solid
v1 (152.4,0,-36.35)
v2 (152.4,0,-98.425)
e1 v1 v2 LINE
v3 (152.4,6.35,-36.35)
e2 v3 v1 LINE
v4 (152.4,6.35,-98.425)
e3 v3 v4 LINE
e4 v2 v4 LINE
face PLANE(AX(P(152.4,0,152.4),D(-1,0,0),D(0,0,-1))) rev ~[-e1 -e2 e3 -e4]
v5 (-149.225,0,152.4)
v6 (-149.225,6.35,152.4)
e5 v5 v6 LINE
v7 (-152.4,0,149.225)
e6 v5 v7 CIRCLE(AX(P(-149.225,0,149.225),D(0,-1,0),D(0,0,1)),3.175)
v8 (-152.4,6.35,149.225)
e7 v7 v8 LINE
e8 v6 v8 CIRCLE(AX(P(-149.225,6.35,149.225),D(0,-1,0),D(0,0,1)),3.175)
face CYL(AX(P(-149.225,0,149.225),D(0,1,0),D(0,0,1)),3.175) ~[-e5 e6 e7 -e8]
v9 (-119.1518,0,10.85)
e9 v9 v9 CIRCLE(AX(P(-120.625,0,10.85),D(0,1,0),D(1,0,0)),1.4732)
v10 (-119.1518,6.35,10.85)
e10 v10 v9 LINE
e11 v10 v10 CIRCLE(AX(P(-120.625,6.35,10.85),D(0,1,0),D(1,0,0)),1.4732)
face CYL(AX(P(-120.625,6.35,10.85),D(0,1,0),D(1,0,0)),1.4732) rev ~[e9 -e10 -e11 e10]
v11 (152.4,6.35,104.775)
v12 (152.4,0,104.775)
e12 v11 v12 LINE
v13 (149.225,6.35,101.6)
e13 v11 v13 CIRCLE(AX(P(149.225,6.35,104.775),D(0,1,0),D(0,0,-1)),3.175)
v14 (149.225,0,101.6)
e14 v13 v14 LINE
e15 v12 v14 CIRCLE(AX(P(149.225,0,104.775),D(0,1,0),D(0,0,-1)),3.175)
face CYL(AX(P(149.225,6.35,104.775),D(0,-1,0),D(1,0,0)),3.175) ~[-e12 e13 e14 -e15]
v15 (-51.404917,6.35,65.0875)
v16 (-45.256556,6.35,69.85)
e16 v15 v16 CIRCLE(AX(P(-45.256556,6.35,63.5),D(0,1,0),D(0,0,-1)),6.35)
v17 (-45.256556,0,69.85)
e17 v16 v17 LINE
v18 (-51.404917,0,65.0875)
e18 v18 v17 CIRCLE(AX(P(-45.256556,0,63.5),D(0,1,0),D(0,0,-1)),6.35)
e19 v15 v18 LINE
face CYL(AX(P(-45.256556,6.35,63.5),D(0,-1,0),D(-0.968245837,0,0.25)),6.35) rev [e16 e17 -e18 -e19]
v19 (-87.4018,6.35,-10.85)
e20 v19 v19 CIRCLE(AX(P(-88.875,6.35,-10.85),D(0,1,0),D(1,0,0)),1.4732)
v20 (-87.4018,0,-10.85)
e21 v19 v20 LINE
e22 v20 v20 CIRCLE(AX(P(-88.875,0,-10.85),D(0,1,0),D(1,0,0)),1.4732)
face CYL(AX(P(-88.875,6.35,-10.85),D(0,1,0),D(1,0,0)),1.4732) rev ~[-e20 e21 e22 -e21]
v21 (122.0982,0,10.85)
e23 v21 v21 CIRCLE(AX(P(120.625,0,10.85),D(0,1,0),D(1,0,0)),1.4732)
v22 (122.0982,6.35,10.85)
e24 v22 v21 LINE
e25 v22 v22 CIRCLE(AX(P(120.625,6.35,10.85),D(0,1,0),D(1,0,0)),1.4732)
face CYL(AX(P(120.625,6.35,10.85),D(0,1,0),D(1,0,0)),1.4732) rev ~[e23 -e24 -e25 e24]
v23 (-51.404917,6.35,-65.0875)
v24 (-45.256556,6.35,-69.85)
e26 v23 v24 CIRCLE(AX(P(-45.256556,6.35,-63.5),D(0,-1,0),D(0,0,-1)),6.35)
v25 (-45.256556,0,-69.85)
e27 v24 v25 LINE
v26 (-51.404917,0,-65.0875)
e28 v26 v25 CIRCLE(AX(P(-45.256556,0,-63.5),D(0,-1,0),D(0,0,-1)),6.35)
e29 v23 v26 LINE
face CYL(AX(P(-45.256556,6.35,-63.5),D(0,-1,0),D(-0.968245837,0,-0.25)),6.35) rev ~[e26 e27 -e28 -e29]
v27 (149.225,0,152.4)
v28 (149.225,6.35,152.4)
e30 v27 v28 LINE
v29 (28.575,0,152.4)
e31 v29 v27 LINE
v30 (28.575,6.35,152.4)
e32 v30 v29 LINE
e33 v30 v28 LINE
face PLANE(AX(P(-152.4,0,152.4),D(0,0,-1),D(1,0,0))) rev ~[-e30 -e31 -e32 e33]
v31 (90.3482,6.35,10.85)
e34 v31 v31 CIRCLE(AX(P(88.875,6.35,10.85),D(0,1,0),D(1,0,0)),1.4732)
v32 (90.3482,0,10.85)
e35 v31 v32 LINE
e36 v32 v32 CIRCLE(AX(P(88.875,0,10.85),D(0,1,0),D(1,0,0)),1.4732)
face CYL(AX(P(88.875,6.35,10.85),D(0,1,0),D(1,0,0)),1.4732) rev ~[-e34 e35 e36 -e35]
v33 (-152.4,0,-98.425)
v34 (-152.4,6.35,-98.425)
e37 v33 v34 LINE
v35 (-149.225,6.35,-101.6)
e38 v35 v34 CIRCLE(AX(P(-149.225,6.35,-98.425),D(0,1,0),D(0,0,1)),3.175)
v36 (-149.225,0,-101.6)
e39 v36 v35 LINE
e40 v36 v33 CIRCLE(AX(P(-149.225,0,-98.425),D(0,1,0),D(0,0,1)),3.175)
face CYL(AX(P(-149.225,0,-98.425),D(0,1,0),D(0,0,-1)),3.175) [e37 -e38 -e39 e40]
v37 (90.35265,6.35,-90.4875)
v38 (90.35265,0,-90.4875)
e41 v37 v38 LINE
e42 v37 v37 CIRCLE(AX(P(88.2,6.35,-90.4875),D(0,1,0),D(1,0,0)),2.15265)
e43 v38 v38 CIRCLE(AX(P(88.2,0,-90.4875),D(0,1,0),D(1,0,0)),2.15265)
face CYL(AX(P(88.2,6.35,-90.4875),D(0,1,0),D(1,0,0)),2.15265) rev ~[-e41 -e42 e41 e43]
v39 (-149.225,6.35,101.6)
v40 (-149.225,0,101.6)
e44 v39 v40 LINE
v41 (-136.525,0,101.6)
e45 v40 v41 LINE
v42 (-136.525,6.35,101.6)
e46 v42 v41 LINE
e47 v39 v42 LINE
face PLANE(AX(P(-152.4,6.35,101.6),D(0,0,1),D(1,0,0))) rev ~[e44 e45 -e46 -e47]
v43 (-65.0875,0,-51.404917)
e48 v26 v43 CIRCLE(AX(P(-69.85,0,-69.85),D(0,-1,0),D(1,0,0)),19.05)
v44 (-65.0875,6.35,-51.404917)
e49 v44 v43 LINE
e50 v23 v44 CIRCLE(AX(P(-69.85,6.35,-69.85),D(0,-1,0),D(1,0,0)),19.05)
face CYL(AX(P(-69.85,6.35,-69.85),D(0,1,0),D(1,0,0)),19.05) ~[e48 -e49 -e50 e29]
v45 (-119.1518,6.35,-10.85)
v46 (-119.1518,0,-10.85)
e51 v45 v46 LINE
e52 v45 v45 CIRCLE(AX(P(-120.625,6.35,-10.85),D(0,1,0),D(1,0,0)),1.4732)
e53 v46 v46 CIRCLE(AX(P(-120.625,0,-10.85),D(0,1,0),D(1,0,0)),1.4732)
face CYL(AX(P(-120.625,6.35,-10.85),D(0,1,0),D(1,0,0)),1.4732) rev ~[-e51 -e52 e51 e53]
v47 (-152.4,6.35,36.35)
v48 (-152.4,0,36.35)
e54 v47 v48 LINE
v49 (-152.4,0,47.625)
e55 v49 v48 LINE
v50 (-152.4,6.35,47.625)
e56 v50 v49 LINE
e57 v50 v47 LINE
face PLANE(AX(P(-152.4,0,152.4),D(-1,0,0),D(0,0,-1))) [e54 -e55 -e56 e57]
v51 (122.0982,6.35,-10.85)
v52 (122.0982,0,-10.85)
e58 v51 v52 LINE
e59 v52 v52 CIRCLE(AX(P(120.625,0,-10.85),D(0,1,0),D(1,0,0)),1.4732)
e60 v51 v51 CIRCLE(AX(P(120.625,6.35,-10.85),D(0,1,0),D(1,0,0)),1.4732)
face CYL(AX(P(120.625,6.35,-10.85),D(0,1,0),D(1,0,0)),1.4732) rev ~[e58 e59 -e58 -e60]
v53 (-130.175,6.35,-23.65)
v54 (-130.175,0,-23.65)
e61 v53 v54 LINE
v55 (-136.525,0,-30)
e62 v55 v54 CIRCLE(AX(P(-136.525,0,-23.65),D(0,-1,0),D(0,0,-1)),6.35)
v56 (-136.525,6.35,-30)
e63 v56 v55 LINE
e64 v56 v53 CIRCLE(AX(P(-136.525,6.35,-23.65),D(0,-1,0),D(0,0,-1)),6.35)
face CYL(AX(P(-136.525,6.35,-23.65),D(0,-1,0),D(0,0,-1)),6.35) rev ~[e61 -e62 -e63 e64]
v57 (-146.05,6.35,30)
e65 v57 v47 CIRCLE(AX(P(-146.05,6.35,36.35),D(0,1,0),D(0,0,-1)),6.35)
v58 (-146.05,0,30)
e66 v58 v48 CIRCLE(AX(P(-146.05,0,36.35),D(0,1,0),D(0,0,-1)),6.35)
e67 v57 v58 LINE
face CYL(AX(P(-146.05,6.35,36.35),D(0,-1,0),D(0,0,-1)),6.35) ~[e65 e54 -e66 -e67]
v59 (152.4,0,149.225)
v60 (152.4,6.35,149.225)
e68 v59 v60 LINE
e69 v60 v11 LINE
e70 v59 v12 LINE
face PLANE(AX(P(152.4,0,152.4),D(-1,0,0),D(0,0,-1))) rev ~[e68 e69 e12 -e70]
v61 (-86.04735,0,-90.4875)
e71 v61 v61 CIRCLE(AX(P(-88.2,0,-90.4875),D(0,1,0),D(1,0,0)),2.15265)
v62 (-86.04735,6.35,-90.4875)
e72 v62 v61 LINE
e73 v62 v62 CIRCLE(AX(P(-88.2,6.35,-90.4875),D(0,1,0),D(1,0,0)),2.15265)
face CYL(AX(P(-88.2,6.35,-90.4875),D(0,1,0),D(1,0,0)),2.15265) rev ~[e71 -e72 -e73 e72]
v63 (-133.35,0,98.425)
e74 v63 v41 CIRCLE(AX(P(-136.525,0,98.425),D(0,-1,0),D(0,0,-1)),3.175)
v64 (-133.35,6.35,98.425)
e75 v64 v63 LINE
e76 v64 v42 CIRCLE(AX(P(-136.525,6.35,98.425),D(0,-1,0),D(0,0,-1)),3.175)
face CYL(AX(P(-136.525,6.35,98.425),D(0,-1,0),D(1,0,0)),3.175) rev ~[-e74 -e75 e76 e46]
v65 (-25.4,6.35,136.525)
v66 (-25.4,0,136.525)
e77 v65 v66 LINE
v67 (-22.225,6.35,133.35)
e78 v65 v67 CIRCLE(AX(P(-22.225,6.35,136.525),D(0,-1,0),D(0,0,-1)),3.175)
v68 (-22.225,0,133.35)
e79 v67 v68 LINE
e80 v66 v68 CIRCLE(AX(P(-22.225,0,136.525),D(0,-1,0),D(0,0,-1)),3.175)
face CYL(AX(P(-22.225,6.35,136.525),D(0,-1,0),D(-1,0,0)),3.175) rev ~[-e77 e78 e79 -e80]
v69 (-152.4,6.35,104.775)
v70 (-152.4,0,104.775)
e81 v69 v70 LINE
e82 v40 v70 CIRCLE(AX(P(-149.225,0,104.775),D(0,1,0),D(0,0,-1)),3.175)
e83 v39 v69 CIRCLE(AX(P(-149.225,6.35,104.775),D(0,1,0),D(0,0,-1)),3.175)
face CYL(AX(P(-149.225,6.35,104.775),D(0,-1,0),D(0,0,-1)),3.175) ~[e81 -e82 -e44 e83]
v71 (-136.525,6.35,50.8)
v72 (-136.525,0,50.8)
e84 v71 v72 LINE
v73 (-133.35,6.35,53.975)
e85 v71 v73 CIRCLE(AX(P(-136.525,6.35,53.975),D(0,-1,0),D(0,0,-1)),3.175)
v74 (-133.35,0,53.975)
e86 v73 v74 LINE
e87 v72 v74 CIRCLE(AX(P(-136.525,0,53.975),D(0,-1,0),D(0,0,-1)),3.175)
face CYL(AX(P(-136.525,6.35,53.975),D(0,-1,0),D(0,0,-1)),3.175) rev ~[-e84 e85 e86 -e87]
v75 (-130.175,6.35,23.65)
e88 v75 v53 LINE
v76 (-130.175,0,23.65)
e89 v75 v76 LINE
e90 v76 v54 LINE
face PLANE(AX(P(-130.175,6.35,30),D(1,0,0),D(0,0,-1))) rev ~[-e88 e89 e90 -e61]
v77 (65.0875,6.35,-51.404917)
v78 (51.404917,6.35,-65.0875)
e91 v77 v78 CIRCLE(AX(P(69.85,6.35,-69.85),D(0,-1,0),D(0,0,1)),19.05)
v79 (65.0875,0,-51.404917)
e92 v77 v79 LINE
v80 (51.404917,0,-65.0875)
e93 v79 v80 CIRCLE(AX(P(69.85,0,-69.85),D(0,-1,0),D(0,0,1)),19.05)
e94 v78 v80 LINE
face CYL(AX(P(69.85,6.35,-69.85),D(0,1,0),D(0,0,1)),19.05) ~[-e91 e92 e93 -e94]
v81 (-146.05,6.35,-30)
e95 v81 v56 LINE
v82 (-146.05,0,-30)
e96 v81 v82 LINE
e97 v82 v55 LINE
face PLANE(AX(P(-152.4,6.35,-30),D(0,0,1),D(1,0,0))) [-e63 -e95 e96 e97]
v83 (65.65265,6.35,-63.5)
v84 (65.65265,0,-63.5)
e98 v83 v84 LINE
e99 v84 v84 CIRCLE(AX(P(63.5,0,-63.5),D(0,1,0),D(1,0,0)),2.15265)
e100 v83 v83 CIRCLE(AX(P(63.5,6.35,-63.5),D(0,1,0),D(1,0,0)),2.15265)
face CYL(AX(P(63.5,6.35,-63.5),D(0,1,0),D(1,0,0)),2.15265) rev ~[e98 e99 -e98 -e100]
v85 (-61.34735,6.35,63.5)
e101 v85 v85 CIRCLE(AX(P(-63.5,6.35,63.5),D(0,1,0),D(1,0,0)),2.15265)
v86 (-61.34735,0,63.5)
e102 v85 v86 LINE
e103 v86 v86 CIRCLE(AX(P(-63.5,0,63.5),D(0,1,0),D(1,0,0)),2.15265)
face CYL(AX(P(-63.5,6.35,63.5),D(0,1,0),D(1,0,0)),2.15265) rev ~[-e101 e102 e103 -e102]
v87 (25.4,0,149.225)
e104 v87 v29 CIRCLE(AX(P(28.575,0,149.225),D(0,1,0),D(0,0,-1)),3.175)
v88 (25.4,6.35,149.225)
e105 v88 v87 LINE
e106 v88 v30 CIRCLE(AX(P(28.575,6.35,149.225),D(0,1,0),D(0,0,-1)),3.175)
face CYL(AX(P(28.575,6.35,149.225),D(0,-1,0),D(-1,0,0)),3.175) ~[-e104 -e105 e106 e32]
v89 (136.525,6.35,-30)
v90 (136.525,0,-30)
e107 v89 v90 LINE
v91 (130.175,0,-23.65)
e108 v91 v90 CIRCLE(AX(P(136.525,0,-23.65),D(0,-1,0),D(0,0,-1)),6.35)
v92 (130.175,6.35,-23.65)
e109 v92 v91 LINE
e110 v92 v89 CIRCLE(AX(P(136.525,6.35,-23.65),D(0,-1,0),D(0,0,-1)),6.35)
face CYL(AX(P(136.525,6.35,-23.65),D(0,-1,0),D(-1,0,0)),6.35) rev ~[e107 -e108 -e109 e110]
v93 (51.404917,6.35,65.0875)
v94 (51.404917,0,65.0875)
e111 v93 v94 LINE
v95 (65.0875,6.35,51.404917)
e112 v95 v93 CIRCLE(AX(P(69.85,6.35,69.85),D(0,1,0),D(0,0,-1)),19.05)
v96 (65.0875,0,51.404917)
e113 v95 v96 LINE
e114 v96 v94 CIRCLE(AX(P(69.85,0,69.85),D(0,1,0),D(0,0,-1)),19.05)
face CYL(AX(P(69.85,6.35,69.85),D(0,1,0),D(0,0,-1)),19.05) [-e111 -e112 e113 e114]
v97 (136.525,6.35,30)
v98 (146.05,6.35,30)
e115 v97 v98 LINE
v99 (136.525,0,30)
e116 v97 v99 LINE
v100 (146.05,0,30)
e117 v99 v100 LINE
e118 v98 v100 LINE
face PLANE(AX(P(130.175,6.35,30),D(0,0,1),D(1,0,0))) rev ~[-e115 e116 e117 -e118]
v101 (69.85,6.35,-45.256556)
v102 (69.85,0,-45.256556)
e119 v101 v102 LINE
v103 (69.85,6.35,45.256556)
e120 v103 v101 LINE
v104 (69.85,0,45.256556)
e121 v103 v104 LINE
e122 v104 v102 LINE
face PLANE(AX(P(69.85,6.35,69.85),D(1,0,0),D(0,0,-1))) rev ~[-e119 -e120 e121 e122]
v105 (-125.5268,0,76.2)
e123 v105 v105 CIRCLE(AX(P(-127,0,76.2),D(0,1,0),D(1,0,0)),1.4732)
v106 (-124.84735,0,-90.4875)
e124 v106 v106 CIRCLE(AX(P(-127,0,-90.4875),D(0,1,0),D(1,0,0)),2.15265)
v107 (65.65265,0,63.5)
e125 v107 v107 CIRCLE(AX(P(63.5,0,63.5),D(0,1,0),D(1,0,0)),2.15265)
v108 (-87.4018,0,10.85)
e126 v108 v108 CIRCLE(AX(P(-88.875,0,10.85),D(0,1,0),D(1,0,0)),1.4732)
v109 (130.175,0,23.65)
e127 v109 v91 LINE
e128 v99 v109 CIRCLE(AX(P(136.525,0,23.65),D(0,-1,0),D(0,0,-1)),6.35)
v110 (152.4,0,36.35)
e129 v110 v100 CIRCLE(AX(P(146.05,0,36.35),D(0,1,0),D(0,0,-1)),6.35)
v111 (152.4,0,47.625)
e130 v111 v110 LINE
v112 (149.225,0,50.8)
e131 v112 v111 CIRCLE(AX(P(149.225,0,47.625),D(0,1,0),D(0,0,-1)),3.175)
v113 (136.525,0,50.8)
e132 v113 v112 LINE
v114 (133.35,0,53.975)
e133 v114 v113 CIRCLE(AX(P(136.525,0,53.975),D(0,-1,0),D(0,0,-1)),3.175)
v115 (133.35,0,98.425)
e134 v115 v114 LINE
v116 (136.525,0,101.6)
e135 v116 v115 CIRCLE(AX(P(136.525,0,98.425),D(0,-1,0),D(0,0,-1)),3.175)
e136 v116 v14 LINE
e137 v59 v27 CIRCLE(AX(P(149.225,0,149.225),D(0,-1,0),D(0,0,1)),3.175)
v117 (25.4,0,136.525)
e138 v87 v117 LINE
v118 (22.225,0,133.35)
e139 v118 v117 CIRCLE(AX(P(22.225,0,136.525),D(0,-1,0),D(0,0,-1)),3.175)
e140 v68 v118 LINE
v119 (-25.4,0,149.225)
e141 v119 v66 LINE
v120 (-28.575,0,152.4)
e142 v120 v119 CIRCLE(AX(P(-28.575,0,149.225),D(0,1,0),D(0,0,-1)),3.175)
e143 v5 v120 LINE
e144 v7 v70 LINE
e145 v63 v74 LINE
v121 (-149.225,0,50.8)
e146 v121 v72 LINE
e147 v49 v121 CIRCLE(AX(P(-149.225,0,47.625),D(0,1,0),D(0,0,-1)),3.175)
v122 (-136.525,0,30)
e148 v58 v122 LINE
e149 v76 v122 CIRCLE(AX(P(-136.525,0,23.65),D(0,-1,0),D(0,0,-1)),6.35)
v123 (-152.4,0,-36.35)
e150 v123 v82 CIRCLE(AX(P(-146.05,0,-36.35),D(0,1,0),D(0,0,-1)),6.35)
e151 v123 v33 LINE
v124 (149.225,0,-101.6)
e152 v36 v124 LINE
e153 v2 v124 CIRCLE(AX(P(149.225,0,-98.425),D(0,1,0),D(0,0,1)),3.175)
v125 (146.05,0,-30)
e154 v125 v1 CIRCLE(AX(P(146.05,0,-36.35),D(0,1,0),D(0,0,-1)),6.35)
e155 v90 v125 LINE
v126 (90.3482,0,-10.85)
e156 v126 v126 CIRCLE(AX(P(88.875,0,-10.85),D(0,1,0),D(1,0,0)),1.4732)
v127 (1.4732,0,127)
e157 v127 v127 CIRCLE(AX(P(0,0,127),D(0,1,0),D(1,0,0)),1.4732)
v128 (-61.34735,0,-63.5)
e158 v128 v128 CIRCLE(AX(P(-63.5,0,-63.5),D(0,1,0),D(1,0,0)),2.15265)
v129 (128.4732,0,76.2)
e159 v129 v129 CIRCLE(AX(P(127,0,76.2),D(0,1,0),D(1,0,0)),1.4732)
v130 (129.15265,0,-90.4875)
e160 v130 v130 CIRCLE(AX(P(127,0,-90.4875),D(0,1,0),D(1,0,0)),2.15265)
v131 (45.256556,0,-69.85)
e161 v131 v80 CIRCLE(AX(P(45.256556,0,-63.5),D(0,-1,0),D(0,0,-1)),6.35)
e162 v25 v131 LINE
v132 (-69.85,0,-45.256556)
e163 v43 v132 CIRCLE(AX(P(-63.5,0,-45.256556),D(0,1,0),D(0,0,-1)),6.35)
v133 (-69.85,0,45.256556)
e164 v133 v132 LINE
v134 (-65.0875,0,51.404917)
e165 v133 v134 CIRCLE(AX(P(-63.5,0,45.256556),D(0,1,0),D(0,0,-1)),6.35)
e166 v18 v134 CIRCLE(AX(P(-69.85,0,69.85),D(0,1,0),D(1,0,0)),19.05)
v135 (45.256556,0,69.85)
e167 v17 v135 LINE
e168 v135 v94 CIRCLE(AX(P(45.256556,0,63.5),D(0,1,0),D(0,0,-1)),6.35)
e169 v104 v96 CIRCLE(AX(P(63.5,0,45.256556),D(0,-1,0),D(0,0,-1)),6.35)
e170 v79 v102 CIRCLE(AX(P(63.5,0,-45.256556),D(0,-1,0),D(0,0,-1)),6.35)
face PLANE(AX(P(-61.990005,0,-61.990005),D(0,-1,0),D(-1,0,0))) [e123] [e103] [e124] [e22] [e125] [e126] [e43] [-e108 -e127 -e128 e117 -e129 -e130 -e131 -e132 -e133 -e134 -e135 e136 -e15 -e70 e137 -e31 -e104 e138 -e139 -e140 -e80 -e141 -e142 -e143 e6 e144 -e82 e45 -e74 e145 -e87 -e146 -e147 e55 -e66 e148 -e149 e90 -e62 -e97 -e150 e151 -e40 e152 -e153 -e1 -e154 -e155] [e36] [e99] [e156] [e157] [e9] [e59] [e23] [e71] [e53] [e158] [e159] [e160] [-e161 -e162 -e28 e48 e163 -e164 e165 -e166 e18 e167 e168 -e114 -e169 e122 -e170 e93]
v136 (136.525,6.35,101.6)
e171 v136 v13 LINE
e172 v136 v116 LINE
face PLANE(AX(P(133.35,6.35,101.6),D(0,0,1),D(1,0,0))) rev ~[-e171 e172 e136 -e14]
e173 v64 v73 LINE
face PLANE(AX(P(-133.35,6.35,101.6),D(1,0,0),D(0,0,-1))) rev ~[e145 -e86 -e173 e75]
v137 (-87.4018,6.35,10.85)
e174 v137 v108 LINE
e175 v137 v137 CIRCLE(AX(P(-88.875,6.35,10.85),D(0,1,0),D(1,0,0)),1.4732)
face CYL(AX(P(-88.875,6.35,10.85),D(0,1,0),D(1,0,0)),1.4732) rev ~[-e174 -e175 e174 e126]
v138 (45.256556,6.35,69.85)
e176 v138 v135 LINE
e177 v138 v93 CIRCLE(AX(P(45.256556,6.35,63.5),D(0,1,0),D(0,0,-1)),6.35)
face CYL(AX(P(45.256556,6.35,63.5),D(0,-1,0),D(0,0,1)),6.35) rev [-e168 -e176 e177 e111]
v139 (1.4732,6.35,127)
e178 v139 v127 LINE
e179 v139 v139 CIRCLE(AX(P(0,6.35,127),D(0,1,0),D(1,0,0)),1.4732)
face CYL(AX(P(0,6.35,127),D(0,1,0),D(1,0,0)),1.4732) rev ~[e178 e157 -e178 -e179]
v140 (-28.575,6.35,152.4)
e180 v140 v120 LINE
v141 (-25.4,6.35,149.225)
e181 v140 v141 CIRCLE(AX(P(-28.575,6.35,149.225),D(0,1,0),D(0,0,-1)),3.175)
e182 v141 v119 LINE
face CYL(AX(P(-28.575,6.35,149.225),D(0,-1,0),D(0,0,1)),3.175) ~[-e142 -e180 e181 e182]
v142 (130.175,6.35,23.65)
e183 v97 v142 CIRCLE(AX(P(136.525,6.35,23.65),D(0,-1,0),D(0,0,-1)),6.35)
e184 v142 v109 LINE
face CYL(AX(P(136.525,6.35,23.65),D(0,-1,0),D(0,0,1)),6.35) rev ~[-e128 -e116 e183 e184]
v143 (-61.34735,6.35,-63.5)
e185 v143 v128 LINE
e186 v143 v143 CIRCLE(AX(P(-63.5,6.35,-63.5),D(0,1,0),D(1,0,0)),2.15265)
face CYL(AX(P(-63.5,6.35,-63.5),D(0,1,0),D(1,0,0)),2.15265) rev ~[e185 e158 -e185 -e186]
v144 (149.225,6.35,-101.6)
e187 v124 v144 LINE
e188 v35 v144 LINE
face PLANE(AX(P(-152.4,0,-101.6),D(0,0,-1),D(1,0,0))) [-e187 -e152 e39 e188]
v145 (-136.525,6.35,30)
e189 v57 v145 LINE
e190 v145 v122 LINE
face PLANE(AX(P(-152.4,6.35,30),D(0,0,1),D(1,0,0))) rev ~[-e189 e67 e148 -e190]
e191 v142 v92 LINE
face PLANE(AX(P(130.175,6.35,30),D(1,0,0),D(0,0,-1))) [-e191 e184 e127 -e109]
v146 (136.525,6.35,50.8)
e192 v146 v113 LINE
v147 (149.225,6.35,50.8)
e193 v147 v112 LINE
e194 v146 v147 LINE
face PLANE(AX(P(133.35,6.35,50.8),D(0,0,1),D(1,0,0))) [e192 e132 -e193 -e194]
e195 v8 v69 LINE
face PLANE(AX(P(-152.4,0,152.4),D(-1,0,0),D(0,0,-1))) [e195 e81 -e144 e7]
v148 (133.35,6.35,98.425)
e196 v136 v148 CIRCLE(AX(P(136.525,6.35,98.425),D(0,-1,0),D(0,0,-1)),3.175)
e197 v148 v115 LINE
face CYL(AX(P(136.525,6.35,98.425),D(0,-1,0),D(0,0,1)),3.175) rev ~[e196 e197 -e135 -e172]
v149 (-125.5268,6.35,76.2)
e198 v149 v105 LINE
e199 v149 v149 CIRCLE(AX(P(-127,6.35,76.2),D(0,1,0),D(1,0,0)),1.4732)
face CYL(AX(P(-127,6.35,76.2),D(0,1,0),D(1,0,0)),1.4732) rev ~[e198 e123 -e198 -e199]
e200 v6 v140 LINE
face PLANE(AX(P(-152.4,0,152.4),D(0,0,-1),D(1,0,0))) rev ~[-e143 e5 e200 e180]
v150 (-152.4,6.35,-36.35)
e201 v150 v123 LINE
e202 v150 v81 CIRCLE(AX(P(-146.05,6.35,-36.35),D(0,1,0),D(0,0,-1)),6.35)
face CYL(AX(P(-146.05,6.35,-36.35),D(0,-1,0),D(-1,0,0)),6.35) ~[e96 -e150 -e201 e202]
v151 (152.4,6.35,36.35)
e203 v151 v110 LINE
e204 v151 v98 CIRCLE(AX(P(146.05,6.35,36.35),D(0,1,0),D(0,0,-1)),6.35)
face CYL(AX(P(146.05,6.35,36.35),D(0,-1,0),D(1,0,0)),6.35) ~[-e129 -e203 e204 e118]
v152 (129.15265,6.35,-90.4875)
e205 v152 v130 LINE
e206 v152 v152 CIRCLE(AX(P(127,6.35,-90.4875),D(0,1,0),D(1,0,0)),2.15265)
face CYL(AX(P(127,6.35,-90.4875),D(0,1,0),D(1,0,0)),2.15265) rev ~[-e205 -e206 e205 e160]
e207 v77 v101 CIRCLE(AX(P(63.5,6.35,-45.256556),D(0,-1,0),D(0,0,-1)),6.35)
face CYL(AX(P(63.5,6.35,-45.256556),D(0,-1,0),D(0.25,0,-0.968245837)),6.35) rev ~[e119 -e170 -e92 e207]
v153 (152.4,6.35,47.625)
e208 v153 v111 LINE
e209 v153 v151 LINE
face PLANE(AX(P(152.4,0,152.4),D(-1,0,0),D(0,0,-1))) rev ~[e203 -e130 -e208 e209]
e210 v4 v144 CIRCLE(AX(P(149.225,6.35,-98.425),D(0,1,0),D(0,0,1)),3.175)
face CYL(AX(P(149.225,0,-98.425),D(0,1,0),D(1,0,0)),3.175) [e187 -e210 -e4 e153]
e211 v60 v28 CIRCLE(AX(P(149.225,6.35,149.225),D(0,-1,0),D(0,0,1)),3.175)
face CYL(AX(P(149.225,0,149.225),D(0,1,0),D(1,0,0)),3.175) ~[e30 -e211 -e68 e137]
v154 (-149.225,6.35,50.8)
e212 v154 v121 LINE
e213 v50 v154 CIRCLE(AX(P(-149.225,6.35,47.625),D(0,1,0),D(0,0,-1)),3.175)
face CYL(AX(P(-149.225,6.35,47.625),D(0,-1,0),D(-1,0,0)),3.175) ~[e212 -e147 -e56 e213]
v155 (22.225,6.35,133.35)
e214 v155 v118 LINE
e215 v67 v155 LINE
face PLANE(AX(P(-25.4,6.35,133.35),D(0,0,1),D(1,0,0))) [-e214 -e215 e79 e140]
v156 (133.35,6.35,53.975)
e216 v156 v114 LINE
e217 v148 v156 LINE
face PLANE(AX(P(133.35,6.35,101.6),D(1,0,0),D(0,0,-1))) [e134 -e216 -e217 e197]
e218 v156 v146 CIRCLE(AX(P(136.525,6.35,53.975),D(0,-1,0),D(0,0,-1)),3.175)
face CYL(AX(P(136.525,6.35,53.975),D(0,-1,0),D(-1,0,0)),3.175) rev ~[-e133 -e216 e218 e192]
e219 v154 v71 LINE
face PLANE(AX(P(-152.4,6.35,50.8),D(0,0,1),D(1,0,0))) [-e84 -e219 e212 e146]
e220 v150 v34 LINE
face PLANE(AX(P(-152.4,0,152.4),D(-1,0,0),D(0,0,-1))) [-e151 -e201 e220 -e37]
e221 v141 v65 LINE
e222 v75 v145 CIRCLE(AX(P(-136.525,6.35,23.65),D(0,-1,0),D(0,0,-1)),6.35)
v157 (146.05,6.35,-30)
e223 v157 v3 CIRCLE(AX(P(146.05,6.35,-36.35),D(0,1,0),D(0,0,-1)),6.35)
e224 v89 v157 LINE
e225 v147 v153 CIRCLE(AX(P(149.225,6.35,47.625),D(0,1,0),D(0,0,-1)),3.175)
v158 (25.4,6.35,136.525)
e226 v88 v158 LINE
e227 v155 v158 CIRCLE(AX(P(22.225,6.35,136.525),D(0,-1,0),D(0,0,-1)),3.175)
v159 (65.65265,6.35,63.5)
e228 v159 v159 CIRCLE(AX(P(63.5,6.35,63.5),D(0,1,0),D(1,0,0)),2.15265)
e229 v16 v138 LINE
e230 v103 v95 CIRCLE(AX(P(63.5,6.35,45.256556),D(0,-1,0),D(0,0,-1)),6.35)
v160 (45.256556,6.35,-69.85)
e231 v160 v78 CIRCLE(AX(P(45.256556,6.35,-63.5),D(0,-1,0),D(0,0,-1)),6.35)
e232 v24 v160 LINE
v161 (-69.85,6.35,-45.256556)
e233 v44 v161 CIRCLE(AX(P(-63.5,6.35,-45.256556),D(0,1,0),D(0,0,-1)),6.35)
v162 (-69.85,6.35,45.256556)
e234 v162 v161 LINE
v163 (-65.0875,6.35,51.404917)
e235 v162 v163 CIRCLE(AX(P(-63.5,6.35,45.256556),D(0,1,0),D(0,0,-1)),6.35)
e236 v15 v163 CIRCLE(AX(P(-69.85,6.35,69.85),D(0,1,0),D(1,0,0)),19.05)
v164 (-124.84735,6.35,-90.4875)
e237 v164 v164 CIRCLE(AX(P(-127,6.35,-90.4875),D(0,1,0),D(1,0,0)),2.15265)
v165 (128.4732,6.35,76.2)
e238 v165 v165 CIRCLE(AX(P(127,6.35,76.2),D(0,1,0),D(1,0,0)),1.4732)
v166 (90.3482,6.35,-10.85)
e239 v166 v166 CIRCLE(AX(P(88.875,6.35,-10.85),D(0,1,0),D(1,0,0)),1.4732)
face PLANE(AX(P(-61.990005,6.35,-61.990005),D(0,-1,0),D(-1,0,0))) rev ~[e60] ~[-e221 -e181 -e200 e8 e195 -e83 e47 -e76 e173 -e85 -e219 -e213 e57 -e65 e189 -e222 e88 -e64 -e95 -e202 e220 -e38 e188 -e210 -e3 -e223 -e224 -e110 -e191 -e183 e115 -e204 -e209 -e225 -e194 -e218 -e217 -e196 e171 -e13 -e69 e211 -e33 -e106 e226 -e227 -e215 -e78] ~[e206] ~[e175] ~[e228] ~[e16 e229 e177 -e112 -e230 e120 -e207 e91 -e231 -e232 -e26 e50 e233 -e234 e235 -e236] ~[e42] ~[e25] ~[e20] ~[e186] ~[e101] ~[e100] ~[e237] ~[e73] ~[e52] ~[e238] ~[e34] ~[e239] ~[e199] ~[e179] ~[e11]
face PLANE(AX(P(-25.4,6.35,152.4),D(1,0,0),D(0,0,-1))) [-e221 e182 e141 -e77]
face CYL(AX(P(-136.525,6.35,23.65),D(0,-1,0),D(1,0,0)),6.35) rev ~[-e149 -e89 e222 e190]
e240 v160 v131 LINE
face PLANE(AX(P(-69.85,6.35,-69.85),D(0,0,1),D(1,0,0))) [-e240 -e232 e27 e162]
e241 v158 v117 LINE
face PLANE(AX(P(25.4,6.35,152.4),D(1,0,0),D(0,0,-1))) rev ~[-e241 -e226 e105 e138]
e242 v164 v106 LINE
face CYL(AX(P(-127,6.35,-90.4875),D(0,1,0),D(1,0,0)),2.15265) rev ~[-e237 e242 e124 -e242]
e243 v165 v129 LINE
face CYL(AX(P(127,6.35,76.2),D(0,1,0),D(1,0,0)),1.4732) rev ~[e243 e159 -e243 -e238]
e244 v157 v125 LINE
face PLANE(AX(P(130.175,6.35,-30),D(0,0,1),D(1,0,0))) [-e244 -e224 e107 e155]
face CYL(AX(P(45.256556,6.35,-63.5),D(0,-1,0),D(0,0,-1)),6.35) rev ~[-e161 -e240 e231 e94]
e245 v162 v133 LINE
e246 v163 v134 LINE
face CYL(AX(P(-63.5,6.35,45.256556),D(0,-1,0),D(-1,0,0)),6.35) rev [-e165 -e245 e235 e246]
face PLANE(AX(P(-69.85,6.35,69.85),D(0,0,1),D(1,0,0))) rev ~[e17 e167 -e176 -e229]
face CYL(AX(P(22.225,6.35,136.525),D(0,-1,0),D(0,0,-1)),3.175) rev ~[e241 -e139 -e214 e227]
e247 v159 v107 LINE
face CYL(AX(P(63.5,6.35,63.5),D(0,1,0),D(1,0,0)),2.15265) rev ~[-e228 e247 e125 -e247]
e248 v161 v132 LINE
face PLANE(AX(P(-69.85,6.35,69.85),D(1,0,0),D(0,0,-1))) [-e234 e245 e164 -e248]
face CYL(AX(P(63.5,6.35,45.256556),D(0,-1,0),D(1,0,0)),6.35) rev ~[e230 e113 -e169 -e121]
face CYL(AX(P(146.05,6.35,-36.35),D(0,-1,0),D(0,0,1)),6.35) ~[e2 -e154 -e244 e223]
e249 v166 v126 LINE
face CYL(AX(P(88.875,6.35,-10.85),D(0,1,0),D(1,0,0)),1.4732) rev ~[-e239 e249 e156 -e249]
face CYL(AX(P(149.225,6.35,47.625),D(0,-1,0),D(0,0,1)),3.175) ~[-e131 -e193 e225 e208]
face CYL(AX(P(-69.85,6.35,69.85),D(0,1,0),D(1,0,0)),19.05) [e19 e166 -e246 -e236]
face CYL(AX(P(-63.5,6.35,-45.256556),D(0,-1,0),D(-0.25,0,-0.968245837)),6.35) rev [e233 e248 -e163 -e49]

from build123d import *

# Parameters (mm, degrees)
SKETCH2_W                = 304.8
SKETCH2_H                = 254
BASE_DEPTH               = 6.35
SKETCH5_W                = 139.7
SKETCH5_H                = 139.7
FAN_CUTOUT_DEPTH         = 6.35
BOSS_EXTRUDE1_DEPTH      = 6.35
SKETCH8_R                = 2.15265
CUT_EXTRUDE1_DEPTH       = 6.35
FILLET2_R                = 6.35
SKETCH3_W                = 22.225
SKETCH3_H                = 60
WHEEL_CUTOUTS_DEPTH      = 6.35
WHEEL_FILLETS_R          = 6.35
SKETCH4_R                = 1.4732
SKETCH4_W                = 19.05
SKETCH4_H                = 50.8
SKETCH4_W_2              = 50.8
SKETCH4_H_2              = 19.05
ULTRASONIC_CUTOUTS_DEPTH = 6.35
ULTRASONIC_FILLETS_R     = 3.175
FILLET3_R                = 3.175
SKETCH9_R                = 2.15265
CUT_EXTRUDE2_DEPTH       = 6.35
SKETCH10_R               = 1.4732
CUT_EXTRUDE3_DEPTH       = 6.35


with BuildPart() as part:
    # Sketch2 → Base (new body)
    with BuildSketch(Plane(origin=(0, 0, 0), x_dir=(1, 0, 0), z_dir=(0, 1, 0))):
        with Locations((0, -25.4)):
            Rectangle(SKETCH2_W, SKETCH2_H)
    extrude(amount=BASE_DEPTH)

    # Sketch5 → Fan Cutout (cut)
    with BuildSketch(Plane(origin=(0, 6.35, 0), x_dir=(1, 0, 0), z_dir=(0, 1, 0))):
        Rectangle(SKETCH5_W, SKETCH5_H)
    extrude(amount=-FAN_CUTOUT_DEPTH, mode=Mode.SUBTRACT)

    # Sketch7 → Boss-Extrude1 (add)
    with BuildSketch(Plane(origin=(0, 6.35, 0), x_dir=(1, 0, 0), z_dir=(0, 1, 0))):
        with BuildLine():
            Line((-69.85, 50.8), (-69.85, 69.85))
            Line((-69.85, 69.85), (-50.8, 69.85))
            ThreePointArc((-50.8, 69.85), (-56.379615818, 56.379615818), (-69.85, 50.8))
        make_face()
        with BuildLine():
            Line((50.8, 69.85), (69.85, 69.85))
            Line((69.85, 69.85), (69.85, 50.8))
            ThreePointArc((69.85, 50.8), (56.379615818, 56.379615818), (50.8, 69.85))
        make_face()
        with BuildLine():
            Line((-69.85, -50.8), (-69.85, -69.85))
            Line((-69.85, -69.85), (-50.8, -69.85))
            ThreePointArc((-50.8, -69.85), (-56.379615818, -56.379615818), (-69.85, -50.8))
        make_face()
        with BuildLine():
            Line((50.8, -69.85), (69.85, -69.85))
            Line((69.85, -69.85), (69.85, -50.8))
            ThreePointArc((69.85, -50.8), (56.379615818, -56.379615818), (50.8, -69.85))
        make_face()
    extrude(amount=-BOSS_EXTRUDE1_DEPTH)

    # Sketch8 → Cut-Extrude1 (cut)
    with BuildSketch(Plane(origin=(0, 6.35, 0), x_dir=(1, 0, 0), z_dir=(0, 1, 0))):
        with Locations((-63.5, 63.5)):
            Circle(SKETCH8_R)
        with Locations((63.5, 63.5)):
            Circle(SKETCH8_R)
        with Locations((63.5, -63.5)):
            Circle(SKETCH8_R)
        with Locations((-63.5, -63.5)):
            Circle(SKETCH8_R)
    extrude(amount=-CUT_EXTRUDE1_DEPTH, mode=Mode.SUBTRACT)

    # Fillet2
    fillet2_edges = [part.edges().sort_by_distance(p)[0] for p in [
        (-69.85, 3.175, -50.8),
        (-50.8, 3.175, -69.85),
        (50.8, 3.175, -69.85),
        (69.85, 3.175, -50.8),
        (-50.8, 3.175, 69.85),
        (-69.85, 3.175, 50.8),
        (69.85, 3.175, 50.8),
        (50.8, 3.175, 69.85),
    ]]
    fillet(fillet2_edges, radius=FILLET2_R)

    # Sketch3 → Wheel Cutouts (cut)
    with BuildSketch(Plane(origin=(0, 6.35, 0), x_dir=(1, 0, 0), z_dir=(0, 1, 0))):
        with Locations((-141.2875, 0)):
            Rectangle(SKETCH3_W, SKETCH3_H)
        with Locations((141.2875, 0)):
            Rectangle(SKETCH3_W, SKETCH3_H)
    extrude(amount=-WHEEL_CUTOUTS_DEPTH, mode=Mode.SUBTRACT)

    # Wheel Fillets
    wheel_fillets_edges = [part.edges().sort_by_distance(p)[0] for p in [
        (-130.175, 3.175, 30),
        (-130.175, 3.175, -30),
        (-152.4, 3.175, -30),
        (-152.4, 3.175, 30),
        (130.175, 3.175, -30),
        (130.175, 3.175, 30),
        (152.4, 3.175, 30),
        (152.4, 3.175, -30),
    ]]
    fillet(wheel_fillets_edges, radius=WHEEL_FILLETS_R)

    # Sketch4 → Ultrasonic Cutouts (cut)
    with BuildSketch(Plane(origin=(0, 6.35, 0), x_dir=(1, 0, 0), z_dir=(0, 1, 0))):
        with Locations((-127, -76.2)):
            Circle(SKETCH4_R)
        with Locations((127, -76.2)):
            Circle(SKETCH4_R)
        with Locations((0, -127)):
            Circle(SKETCH4_R)
        with Locations((-142.875, -76.2)):
            Rectangle(SKETCH4_W, SKETCH4_H)
        with Locations((142.875, -76.2)):
            Rectangle(SKETCH4_W, SKETCH4_H)
        with Locations((0, -142.875)):
            Rectangle(SKETCH4_W_2, SKETCH4_H_2)
    extrude(amount=-ULTRASONIC_CUTOUTS_DEPTH, mode=Mode.SUBTRACT)

    # Ultrasonic Fillets
    ultrasonic_fillets_edges = [part.edges().sort_by_distance(p)[0] for p in [
        (-133.35, 3.175, 101.6),
        (-133.35, 3.175, 50.8),
        (-152.4, 3.175, 50.8),
        (-152.4, 3.175, 101.6),
        (133.35, 3.175, 50.8),
        (133.35, 3.175, 101.6),
        (152.4, 3.175, 101.6),
        (152.4, 3.175, 50.8),
        (25.4, 3.175, 152.4),
        (25.4, 3.175, 133.35),
        (-25.4, 3.175, 133.35),
        (-25.4, 3.175, 152.4),
    ]]
    fillet(ultrasonic_fillets_edges, radius=ULTRASONIC_FILLETS_R)

    # Fillet3
    fillet3_edges = [part.edges().sort_by_distance(p)[0] for p in [
        (-152.4, 3.175, -101.6),
        (152.4, 3.175, -101.6),
        (152.4, 3.175, 152.4),
        (-152.4, 3.175, 152.4),
    ]]
    fillet(fillet3_edges, radius=FILLET3_R)

    # Sketch9 → Cut-Extrude2 (cut)
    with BuildSketch(Plane(origin=(0, 6.35, 0), x_dir=(1, 0, 0), z_dir=(0, 1, 0))):
        with Locations((-127, 90.4875)):
            Circle(SKETCH9_R)
        with Locations((-88.2, 90.4875)):
            Circle(SKETCH9_R)
        with Locations((88.2, 90.4875)):
            Circle(SKETCH9_R)
        with Locations((127, 90.4875)):
            Circle(SKETCH9_R)
    extrude(amount=-CUT_EXTRUDE2_DEPTH, mode=Mode.SUBTRACT)

    # Sketch10 → Cut-Extrude3 (cut)
    with BuildSketch(Plane(origin=(0, 6.35, 0), x_dir=(1, 0, 0), z_dir=(0, 1, 0))):
        with Locations((-120.625, 10.85)):
            Circle(SKETCH10_R)
        with Locations((-88.875, 10.85)):
            Circle(SKETCH10_R)
        with Locations((-120.625, -10.85)):
            Circle(SKETCH10_R)
        with Locations((-88.875, -10.85)):
            Circle(SKETCH10_R)
        with Locations((88.875, 10.85)):
            Circle(SKETCH10_R)
        with Locations((120.625, 10.85)):
            Circle(SKETCH10_R)
        with Locations((88.875, -10.85)):
            Circle(SKETCH10_R)
        with Locations((120.625, -10.85)):
            Circle(SKETCH10_R)
    extrude(amount=-CUT_EXTRUDE3_DEPTH, mode=Mode.SUBTRACT)


solid = part.part
